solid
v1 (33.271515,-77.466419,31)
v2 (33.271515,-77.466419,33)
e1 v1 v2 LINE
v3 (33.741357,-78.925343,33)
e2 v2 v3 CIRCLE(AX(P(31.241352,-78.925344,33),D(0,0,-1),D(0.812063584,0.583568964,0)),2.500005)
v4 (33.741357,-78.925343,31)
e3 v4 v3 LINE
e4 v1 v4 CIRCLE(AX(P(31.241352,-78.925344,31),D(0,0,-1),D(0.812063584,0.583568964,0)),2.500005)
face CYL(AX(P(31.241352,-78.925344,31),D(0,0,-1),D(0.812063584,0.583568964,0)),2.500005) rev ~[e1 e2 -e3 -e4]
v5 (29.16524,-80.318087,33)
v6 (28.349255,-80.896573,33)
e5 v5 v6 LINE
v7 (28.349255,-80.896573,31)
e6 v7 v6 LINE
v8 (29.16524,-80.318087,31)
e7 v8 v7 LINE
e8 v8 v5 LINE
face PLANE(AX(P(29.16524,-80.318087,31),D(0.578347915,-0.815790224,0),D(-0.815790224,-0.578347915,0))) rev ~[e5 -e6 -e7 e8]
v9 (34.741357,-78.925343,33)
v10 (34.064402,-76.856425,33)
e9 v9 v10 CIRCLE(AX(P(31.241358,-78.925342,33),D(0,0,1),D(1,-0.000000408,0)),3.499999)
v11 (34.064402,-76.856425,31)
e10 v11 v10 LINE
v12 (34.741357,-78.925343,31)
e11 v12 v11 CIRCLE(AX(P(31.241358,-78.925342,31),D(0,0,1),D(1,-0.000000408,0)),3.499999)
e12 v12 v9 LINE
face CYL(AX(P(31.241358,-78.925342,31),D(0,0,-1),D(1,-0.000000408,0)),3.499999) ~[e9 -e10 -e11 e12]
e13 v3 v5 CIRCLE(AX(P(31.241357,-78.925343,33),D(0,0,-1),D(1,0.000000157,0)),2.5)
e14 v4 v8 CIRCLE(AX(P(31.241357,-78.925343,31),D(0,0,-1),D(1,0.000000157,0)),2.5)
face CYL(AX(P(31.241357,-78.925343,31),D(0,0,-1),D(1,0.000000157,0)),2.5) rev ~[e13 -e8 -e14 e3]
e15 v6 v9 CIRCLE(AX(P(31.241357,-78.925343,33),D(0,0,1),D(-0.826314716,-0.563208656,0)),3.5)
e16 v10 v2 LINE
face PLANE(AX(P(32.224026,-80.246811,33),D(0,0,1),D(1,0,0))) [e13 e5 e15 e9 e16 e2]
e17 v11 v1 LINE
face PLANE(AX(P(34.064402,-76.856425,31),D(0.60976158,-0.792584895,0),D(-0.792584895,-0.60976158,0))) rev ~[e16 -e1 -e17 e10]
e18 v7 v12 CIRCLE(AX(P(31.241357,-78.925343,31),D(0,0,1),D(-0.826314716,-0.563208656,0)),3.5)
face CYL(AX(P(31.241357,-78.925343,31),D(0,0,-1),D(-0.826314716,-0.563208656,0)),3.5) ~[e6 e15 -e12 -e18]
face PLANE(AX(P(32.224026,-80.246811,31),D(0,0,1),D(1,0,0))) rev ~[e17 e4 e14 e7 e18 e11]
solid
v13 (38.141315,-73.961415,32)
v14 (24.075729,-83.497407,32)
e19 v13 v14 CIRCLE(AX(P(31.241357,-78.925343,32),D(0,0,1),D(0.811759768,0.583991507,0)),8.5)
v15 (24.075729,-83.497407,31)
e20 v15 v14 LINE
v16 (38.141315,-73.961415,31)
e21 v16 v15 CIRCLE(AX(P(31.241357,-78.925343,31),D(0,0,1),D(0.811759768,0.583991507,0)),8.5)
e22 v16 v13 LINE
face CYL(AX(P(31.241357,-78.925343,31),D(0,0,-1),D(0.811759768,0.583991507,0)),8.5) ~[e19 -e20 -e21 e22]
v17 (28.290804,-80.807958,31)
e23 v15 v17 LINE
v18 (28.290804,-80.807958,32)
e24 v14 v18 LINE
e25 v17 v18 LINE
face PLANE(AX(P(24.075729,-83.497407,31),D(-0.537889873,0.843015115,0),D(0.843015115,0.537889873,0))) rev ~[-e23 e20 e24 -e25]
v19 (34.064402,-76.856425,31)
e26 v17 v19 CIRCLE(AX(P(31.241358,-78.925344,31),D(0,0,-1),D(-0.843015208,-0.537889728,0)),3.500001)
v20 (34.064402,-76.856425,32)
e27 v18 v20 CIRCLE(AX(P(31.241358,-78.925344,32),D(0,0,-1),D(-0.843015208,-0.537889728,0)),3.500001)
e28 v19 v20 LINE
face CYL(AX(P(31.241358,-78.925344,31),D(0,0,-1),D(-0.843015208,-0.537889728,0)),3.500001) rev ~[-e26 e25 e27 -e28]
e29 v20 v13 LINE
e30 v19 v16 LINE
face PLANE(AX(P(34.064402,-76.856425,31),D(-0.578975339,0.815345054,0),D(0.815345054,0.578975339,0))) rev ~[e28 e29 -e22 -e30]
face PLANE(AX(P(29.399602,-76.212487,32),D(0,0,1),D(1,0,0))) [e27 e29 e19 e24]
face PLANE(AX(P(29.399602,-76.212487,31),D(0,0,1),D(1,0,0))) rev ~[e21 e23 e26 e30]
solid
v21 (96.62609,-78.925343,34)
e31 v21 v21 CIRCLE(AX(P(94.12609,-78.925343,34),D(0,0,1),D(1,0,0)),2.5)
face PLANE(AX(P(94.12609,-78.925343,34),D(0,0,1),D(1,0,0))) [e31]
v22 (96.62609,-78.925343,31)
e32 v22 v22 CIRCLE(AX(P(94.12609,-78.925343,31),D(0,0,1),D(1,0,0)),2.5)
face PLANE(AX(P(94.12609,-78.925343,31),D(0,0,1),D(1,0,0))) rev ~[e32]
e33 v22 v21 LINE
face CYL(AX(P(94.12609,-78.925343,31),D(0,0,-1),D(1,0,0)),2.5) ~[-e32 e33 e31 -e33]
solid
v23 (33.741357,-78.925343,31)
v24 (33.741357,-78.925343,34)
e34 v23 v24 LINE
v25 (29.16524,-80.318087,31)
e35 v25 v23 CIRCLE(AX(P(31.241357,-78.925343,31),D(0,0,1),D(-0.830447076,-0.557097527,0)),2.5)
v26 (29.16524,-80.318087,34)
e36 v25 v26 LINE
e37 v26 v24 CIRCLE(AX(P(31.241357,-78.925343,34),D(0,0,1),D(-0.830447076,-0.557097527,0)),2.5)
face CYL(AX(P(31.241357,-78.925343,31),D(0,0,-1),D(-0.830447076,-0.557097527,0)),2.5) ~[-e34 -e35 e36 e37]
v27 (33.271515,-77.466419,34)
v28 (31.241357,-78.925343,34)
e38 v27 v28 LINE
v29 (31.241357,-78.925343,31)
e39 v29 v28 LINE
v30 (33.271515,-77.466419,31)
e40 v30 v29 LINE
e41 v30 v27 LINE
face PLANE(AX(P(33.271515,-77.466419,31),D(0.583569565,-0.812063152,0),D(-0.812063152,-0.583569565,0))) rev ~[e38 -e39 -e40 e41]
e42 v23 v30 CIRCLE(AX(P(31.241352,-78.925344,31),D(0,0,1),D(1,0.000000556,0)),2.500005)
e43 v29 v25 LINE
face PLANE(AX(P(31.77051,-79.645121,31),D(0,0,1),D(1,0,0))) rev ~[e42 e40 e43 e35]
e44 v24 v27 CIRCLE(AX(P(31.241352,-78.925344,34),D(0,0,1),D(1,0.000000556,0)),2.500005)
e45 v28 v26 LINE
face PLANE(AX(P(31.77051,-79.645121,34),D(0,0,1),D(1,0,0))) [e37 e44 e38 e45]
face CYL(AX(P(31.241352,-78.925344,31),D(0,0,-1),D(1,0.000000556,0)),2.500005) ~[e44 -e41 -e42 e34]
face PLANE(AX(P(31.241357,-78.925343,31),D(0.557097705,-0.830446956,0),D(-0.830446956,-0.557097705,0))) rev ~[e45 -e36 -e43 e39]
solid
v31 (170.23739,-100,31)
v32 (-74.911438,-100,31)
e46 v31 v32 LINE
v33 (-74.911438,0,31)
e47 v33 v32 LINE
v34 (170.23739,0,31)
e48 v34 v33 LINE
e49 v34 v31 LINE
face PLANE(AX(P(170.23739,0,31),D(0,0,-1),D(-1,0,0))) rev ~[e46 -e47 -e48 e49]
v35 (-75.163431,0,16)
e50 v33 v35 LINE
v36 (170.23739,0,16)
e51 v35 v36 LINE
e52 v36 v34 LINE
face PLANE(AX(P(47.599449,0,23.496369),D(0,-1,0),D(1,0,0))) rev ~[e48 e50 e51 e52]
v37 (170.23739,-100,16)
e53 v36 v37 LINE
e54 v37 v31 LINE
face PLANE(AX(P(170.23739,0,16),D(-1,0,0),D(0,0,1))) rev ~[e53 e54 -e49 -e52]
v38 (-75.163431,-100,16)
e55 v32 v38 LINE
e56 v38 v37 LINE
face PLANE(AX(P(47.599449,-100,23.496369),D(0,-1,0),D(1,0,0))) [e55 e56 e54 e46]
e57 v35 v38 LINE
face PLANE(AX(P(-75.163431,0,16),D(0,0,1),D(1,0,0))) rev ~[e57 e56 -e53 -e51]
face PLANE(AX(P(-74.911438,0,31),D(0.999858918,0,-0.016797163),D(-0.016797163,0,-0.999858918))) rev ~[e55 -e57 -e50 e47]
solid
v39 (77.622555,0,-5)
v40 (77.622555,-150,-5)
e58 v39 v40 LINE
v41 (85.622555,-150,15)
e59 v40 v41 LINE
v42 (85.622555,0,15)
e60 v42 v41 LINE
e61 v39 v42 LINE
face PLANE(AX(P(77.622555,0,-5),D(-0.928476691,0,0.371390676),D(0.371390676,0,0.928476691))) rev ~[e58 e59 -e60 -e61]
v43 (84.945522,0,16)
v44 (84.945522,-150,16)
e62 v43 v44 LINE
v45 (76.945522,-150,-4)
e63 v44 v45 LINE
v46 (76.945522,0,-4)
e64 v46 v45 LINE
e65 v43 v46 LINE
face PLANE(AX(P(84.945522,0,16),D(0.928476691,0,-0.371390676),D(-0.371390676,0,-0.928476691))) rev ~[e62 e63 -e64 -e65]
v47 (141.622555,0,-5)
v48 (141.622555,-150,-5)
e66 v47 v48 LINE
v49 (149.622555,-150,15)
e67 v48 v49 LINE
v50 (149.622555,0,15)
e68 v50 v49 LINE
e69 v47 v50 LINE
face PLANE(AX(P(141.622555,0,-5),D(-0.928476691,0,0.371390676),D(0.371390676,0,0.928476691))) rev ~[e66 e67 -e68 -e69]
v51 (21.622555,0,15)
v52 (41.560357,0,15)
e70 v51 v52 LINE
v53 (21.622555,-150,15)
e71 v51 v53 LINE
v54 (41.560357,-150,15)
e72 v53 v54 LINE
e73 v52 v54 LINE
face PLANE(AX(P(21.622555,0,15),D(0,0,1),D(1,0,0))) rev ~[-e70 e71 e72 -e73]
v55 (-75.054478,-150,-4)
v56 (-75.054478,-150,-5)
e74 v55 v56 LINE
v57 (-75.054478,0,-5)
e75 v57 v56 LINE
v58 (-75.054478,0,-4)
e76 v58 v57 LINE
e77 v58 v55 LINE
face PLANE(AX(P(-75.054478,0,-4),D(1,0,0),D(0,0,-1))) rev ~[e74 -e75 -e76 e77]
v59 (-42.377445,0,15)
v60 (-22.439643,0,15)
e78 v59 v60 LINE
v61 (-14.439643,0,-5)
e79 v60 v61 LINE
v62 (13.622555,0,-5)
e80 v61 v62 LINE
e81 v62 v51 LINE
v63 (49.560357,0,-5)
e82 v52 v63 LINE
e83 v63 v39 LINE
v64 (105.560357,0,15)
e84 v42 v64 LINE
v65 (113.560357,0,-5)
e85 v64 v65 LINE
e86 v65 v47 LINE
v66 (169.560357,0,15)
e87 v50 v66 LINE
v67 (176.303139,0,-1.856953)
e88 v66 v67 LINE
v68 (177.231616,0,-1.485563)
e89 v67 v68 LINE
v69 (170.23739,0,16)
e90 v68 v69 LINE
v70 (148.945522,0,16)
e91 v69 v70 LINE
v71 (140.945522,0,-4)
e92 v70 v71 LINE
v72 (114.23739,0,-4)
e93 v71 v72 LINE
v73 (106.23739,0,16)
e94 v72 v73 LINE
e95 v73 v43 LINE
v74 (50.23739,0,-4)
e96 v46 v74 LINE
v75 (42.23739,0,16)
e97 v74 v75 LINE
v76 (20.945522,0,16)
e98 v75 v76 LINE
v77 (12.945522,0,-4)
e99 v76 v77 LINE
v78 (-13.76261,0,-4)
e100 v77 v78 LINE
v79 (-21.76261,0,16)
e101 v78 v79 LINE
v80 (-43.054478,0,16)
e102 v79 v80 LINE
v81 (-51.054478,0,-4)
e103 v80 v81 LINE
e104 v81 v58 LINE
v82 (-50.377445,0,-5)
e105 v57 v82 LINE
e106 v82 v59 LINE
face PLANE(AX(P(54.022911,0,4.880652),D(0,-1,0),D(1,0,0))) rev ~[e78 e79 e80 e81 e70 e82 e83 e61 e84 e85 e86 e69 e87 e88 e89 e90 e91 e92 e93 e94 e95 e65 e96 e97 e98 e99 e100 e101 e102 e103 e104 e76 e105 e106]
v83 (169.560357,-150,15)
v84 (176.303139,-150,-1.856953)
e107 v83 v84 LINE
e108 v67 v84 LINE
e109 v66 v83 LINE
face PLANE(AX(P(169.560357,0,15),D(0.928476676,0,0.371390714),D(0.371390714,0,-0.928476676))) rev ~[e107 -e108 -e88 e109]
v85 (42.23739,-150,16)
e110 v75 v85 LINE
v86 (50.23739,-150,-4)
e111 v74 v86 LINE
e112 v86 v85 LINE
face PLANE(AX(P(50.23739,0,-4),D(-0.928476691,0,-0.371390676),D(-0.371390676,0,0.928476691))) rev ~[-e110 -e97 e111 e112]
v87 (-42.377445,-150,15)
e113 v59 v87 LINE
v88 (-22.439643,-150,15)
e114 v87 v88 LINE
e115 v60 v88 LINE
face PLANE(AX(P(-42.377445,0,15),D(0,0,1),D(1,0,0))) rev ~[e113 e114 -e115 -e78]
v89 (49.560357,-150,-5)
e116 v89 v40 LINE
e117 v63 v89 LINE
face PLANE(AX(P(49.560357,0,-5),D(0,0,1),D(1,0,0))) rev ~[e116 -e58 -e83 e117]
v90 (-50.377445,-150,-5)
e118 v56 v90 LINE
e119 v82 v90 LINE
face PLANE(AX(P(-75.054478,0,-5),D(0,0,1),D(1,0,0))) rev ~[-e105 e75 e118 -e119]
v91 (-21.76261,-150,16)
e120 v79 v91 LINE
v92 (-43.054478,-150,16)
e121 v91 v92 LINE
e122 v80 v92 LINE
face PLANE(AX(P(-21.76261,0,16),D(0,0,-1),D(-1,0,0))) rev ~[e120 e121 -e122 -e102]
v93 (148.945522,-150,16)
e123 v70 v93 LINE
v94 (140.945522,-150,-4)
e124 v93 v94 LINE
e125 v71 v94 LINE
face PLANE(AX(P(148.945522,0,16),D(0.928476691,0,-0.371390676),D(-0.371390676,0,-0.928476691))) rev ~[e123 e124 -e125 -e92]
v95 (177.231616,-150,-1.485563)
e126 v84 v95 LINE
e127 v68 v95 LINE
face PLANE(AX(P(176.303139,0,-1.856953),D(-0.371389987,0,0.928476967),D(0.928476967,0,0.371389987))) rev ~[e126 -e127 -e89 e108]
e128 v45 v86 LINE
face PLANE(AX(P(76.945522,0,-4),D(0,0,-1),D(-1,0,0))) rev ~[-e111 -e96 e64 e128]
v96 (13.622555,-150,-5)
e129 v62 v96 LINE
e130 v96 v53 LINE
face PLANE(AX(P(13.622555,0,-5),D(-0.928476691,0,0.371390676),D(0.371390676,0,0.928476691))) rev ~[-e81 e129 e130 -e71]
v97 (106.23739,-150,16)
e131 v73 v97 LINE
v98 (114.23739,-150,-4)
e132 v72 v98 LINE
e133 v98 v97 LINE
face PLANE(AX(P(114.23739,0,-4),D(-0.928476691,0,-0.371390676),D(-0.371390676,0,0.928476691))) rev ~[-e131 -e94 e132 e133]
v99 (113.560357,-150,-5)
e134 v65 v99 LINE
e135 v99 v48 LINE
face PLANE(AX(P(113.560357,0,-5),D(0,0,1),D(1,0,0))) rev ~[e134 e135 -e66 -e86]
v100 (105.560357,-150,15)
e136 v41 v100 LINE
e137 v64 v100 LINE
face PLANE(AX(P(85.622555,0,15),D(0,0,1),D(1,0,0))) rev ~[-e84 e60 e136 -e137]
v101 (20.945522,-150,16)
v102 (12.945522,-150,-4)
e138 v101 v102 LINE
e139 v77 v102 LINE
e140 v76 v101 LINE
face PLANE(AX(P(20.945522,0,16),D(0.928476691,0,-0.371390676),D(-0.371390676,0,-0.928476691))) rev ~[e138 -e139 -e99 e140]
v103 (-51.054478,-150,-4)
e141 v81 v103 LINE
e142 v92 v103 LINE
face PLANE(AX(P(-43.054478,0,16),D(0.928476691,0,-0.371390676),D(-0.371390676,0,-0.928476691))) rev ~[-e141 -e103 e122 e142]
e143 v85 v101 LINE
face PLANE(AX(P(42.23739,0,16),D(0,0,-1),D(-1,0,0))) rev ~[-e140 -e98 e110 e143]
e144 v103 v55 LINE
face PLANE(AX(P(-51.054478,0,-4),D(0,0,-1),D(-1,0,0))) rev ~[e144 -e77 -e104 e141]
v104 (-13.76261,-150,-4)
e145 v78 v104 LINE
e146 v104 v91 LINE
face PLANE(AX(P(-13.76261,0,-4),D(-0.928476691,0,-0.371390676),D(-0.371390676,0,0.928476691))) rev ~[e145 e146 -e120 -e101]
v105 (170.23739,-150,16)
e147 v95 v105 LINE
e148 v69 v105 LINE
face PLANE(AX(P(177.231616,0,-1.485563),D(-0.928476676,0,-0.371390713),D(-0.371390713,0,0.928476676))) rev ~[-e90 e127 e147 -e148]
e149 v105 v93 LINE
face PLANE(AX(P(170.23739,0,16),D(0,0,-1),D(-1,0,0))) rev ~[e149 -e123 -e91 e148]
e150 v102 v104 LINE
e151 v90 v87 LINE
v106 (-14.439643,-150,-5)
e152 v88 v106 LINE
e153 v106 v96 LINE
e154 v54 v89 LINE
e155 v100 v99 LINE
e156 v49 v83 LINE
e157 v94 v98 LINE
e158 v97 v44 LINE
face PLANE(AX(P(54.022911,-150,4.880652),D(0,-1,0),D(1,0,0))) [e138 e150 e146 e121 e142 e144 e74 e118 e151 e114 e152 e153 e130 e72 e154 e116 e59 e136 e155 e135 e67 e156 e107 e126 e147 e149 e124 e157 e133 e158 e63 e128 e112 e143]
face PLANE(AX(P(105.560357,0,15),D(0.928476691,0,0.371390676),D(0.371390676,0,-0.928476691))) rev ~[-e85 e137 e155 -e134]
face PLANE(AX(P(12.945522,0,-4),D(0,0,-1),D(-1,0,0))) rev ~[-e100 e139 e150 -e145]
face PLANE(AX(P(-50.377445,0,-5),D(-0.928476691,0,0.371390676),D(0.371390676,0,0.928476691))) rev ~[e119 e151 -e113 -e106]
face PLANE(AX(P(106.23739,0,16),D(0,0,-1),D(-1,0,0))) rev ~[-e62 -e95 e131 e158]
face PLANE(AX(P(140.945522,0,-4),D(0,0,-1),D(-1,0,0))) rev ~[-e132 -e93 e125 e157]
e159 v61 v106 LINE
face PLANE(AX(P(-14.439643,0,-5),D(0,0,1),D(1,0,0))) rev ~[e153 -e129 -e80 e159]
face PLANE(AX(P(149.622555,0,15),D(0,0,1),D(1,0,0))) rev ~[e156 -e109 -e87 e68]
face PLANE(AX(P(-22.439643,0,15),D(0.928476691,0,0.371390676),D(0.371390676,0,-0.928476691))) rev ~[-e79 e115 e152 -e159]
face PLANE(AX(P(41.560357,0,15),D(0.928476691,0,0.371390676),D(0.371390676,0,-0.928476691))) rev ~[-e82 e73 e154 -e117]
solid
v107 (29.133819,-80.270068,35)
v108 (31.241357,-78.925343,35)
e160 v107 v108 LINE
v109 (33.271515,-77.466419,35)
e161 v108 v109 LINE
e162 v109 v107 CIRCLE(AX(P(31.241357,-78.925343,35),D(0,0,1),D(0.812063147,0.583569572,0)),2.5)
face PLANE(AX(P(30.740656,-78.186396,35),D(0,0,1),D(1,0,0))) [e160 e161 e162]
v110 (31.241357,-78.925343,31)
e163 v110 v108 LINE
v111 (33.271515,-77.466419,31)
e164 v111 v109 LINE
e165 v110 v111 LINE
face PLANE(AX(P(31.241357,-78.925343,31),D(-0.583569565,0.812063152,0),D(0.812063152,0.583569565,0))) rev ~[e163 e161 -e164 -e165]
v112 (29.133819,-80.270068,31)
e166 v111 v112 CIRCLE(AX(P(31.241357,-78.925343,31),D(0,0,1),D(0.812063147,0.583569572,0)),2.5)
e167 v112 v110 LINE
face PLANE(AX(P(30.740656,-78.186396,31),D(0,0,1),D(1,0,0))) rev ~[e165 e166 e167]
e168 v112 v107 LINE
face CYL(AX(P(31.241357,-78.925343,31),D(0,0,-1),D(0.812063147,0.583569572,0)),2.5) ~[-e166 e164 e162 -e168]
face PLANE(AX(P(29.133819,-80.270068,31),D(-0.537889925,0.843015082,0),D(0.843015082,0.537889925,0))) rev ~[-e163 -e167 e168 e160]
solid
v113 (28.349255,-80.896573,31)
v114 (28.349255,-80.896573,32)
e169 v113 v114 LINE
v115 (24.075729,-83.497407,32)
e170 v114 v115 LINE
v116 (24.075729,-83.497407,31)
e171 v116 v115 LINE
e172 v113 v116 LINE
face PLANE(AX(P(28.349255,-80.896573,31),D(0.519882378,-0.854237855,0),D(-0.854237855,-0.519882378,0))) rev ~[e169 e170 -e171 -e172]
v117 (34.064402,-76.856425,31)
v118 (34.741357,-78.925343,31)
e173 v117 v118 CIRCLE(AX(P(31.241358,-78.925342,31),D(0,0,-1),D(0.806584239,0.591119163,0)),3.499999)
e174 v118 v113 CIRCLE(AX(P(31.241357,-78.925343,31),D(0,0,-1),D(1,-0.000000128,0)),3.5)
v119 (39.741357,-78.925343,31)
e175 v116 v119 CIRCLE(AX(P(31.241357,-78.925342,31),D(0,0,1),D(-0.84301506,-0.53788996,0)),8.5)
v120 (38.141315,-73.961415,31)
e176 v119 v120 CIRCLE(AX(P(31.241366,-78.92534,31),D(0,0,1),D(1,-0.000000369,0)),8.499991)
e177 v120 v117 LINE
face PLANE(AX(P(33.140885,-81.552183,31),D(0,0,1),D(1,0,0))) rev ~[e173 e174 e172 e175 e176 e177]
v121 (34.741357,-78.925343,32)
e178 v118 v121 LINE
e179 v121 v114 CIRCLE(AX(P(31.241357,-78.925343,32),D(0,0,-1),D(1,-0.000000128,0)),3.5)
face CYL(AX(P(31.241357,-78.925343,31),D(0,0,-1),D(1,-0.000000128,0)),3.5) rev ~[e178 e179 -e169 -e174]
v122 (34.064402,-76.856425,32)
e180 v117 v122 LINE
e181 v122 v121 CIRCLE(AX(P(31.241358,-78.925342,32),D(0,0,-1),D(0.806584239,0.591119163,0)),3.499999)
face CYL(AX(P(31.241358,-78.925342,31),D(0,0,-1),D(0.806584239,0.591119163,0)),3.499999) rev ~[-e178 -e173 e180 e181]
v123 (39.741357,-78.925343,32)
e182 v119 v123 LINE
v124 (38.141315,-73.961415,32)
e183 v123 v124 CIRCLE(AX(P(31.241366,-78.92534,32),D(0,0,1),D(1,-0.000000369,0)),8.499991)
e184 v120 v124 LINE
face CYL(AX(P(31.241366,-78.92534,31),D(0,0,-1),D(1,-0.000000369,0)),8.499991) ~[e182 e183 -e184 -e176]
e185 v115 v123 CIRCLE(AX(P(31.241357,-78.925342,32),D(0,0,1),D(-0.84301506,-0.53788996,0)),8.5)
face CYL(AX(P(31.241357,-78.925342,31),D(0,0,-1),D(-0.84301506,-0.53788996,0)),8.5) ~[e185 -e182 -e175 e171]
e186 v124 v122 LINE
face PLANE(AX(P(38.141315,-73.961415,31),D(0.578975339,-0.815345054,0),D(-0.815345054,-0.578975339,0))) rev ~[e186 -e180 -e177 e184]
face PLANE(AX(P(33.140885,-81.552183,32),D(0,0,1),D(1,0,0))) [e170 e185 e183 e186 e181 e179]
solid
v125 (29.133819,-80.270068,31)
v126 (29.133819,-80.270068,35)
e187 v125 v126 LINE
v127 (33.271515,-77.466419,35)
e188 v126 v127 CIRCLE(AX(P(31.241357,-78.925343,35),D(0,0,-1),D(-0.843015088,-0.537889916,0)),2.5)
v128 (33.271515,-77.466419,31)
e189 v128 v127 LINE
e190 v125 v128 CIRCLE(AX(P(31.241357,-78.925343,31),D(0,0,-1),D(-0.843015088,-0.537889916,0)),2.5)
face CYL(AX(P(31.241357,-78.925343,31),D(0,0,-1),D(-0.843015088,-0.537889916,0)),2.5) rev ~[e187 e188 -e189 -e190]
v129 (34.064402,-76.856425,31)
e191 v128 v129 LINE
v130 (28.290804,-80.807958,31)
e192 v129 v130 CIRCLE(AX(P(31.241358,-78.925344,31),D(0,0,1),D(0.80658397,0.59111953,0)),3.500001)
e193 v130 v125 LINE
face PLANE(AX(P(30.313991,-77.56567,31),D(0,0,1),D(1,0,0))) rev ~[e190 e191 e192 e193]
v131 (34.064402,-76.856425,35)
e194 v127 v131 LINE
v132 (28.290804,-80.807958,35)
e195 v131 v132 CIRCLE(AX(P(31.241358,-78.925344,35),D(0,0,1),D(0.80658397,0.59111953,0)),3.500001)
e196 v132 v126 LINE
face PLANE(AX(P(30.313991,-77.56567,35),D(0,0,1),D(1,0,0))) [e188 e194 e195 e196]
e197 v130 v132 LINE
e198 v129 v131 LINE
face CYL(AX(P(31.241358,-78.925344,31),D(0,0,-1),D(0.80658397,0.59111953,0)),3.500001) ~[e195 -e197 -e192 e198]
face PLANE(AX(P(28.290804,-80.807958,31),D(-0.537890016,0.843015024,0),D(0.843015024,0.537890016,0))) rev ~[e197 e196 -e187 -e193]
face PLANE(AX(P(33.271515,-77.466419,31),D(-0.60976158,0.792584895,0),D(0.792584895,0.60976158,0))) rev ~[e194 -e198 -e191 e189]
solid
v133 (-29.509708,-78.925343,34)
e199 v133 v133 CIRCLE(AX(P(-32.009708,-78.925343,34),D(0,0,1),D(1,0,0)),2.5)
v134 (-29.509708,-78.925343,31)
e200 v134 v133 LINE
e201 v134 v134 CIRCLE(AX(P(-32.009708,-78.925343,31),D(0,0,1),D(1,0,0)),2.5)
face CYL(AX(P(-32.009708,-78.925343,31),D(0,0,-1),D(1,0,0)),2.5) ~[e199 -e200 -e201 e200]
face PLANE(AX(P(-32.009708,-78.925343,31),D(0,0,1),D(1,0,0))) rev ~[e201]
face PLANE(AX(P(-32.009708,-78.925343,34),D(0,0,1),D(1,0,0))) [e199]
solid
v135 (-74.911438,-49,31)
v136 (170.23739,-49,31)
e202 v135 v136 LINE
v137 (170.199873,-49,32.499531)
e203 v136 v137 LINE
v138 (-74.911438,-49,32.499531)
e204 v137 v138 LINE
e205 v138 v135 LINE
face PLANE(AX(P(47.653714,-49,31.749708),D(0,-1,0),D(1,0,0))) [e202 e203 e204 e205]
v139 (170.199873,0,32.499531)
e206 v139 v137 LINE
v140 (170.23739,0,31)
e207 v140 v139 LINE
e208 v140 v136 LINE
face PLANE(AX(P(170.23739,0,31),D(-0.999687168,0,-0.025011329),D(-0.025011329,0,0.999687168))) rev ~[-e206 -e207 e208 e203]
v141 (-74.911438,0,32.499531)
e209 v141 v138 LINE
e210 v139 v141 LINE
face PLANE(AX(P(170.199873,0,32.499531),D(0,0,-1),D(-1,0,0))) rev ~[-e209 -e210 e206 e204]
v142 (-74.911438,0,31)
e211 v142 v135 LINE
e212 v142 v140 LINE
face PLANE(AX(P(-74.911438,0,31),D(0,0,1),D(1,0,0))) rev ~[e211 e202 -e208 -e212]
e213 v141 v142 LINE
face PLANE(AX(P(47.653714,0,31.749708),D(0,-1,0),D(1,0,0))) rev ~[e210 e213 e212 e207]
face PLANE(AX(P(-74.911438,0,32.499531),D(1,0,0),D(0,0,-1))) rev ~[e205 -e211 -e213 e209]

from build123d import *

# Parameters (mm, degrees)
F1_DEPTH  = 150
F2_DEPTH  = 100
F3_DEPTH  = 49
F4_R      = 2.5
F5_DEPTH  = 3
F6_DEPTH  = 3
F7_DEPTH  = 3
F8_DEPTH  = 4
F9_DEPTH  = 4
F10_DEPTH = 2
F11_DEPTH = 1
F12_DEPTH = 1


with BuildPart() as f1:
    # F0 (on Front) → F1 (new body)
    with BuildSketch(Plane.XZ):
        Polygon((-51.054478, -4), (-75.054478, -4), (-75.054478, -5), (-50.377445, -5), (-42.377445, 15), (-22.439643, 15), (-14.439643, -5), (13.622555, -5), (21.622555, 15), (41.560357, 15), (49.560357, -5), (77.622555, -5), (85.622555, 15), (105.560357, 15), (113.560357, -5), (141.622555, -5), (149.622555, 15), (169.560357, 15), (176.303139, -1.856953), (177.231616, -1.485563), (170.23739, 16), (148.945522, 16), (140.945522, -4), (114.23739, -4), (106.23739, 16), (84.945522, 16), (76.945522, -4), (50.23739, -4), (42.23739, 16), (20.945522, 16), (12.945522, -4), (-13.76261, -4), (-21.76261, 16), (-43.054478, 16), align=None)
    extrude(amount=F1_DEPTH)


with BuildPart() as f2:
    # F0 (on Front) → F2 (new body)
    with BuildSketch(Plane.XZ):
        Polygon((-75.163431, 16), (-43.054478, 16), (-21.76261, 16), (20.945522, 16), (42.23739, 16), (84.945522, 16), (106.23739, 16), (148.945522, 16), (170.23739, 16), (170.23739, 31), (-74.911438, 31), align=None)
    extrude(amount=F2_DEPTH)


with BuildPart() as f3:
    # F0 (on Front) → F3 (new body)
    with BuildSketch(Plane.XZ):
        Polygon((-74.911438, 32.499531), (-74.911438, 31), (170.23739, 31), (170.199873, 32.499531), align=None)
    extrude(amount=F3_DEPTH)


with BuildPart() as f5:
    # F4 (on face) → F5 (new body)
    with BuildSketch(Plane.XY.offset(31)):
        with Locations((94.12609, -78.925343)):
            Circle(F4_R)
    extrude(amount=F5_DEPTH)


with BuildPart() as f6:
    # F4 (on face) → F6 (new body)
    with BuildSketch(Plane.XY.offset(31)):
        with Locations((-32.009708, -78.925343)):
            Circle(F4_R)
    extrude(amount=F6_DEPTH)


with BuildPart() as f7:
    # F4 (on face) → F7 (new body)
    with BuildSketch(Plane.XY.offset(31)):
        with BuildLine():
            ThreePointArc((29.16524, -80.318087), (31.969267, -81.317026), (33.741357, -78.925343))
            ThreePointArc((33.741357, -78.925343), (33.620999, -78.158986), (33.271515, -77.466419))
            Line((33.271515, -77.466419), (31.241357, -78.925343))
            Line((31.241357, -78.925343), (29.16524, -80.318087))
        make_face()
    extrude(amount=F7_DEPTH)


with BuildPart() as f8:
    # F4 (on face) → F8 (new body)
    with BuildSketch(Plane.XY.offset(31)):
        with BuildLine():
            Line((31.241357, -78.925343), (33.271515, -77.466419))
            ThreePointArc((33.271515, -77.466419), (29.838999, -76.855707), (29.133819, -80.270068))
            Line((29.133819, -80.270068), (31.241357, -78.925343))
        make_face()
    extrude(amount=F8_DEPTH)


with BuildPart() as f9:
    # F4 (on face) → F9 (new body)
    with BuildSketch(Plane.XY.offset(31)):
        with BuildLine():
            ThreePointArc((29.133819, -80.270068), (29.838999, -76.855707), (33.271515, -77.466419))
            Line((33.271515, -77.466419), (34.064402, -76.856425))
            ThreePointArc((34.064402, -76.856425), (29.264563, -76.037042), (28.290804, -80.807958))
            Line((28.290804, -80.807958), (29.133819, -80.270068))
        make_face()
    extrude(amount=F9_DEPTH)


with BuildPart() as f10:
    # F4 (on face) → F10 (new body)
    with BuildSketch(Plane.XY.offset(31)):
        with BuildLine():
            ThreePointArc((33.271515, -77.466419), (33.620999, -78.158986), (33.741357, -78.925343))
            ThreePointArc((33.741357, -78.925343), (31.969267, -81.317026), (29.16524, -80.318087))
            Line((29.16524, -80.318087), (28.349255, -80.896573))
            ThreePointArc((28.349255, -80.896573), (32.272775, -82.269917), (34.741357, -78.925343))
            ThreePointArc((34.741357, -78.925343), (34.567816, -77.836916), (34.064402, -76.856425))
            Line((34.064402, -76.856425), (33.271515, -77.466419))
        make_face()
    extrude(amount=F10_DEPTH)


with BuildPart() as f11:
    # F4 (on face) → F11 (new body)
    with BuildSketch(Plane.XY.offset(31)):
        with BuildLine():
            ThreePointArc((28.290804, -80.807958), (29.264563, -76.037042), (34.064402, -76.856425))
            Line((34.064402, -76.856425), (38.141315, -73.961415))
            ThreePointArc((38.141315, -73.961415), (26.471511, -71.889821), (24.075729, -83.497407))
            Line((24.075729, -83.497407), (28.290804, -80.807958))
        make_face()
    extrude(amount=F11_DEPTH)


with BuildPart() as f12:
    # F4 (on face) → F12 (new body)
    with BuildSketch(Plane.XY.offset(31)):
        with BuildLine():
            Line((38.141315, -73.961415), (34.064402, -76.856425))
            ThreePointArc((34.064402, -76.856425), (34.567816, -77.836916), (34.741357, -78.925343))
            ThreePointArc((34.741357, -78.925343), (32.272775, -82.269917), (28.349255, -80.896573))
            Line((28.349255, -80.896573), (24.075729, -83.497407))
            ThreePointArc((24.075729, -83.497407), (33.62276, -87.084933), (39.741357, -78.925343))
            ThreePointArc((39.741357, -78.925343), (39.331464, -76.317628), (38.141315, -73.961415))
        make_face()
    extrude(amount=F12_DEPTH)


solid = Compound([f1.part, f2.part, f3.part, f5.part, f6.part, f7.part, f8.part, f9.part, f10.part, f11.part, f12.part])
